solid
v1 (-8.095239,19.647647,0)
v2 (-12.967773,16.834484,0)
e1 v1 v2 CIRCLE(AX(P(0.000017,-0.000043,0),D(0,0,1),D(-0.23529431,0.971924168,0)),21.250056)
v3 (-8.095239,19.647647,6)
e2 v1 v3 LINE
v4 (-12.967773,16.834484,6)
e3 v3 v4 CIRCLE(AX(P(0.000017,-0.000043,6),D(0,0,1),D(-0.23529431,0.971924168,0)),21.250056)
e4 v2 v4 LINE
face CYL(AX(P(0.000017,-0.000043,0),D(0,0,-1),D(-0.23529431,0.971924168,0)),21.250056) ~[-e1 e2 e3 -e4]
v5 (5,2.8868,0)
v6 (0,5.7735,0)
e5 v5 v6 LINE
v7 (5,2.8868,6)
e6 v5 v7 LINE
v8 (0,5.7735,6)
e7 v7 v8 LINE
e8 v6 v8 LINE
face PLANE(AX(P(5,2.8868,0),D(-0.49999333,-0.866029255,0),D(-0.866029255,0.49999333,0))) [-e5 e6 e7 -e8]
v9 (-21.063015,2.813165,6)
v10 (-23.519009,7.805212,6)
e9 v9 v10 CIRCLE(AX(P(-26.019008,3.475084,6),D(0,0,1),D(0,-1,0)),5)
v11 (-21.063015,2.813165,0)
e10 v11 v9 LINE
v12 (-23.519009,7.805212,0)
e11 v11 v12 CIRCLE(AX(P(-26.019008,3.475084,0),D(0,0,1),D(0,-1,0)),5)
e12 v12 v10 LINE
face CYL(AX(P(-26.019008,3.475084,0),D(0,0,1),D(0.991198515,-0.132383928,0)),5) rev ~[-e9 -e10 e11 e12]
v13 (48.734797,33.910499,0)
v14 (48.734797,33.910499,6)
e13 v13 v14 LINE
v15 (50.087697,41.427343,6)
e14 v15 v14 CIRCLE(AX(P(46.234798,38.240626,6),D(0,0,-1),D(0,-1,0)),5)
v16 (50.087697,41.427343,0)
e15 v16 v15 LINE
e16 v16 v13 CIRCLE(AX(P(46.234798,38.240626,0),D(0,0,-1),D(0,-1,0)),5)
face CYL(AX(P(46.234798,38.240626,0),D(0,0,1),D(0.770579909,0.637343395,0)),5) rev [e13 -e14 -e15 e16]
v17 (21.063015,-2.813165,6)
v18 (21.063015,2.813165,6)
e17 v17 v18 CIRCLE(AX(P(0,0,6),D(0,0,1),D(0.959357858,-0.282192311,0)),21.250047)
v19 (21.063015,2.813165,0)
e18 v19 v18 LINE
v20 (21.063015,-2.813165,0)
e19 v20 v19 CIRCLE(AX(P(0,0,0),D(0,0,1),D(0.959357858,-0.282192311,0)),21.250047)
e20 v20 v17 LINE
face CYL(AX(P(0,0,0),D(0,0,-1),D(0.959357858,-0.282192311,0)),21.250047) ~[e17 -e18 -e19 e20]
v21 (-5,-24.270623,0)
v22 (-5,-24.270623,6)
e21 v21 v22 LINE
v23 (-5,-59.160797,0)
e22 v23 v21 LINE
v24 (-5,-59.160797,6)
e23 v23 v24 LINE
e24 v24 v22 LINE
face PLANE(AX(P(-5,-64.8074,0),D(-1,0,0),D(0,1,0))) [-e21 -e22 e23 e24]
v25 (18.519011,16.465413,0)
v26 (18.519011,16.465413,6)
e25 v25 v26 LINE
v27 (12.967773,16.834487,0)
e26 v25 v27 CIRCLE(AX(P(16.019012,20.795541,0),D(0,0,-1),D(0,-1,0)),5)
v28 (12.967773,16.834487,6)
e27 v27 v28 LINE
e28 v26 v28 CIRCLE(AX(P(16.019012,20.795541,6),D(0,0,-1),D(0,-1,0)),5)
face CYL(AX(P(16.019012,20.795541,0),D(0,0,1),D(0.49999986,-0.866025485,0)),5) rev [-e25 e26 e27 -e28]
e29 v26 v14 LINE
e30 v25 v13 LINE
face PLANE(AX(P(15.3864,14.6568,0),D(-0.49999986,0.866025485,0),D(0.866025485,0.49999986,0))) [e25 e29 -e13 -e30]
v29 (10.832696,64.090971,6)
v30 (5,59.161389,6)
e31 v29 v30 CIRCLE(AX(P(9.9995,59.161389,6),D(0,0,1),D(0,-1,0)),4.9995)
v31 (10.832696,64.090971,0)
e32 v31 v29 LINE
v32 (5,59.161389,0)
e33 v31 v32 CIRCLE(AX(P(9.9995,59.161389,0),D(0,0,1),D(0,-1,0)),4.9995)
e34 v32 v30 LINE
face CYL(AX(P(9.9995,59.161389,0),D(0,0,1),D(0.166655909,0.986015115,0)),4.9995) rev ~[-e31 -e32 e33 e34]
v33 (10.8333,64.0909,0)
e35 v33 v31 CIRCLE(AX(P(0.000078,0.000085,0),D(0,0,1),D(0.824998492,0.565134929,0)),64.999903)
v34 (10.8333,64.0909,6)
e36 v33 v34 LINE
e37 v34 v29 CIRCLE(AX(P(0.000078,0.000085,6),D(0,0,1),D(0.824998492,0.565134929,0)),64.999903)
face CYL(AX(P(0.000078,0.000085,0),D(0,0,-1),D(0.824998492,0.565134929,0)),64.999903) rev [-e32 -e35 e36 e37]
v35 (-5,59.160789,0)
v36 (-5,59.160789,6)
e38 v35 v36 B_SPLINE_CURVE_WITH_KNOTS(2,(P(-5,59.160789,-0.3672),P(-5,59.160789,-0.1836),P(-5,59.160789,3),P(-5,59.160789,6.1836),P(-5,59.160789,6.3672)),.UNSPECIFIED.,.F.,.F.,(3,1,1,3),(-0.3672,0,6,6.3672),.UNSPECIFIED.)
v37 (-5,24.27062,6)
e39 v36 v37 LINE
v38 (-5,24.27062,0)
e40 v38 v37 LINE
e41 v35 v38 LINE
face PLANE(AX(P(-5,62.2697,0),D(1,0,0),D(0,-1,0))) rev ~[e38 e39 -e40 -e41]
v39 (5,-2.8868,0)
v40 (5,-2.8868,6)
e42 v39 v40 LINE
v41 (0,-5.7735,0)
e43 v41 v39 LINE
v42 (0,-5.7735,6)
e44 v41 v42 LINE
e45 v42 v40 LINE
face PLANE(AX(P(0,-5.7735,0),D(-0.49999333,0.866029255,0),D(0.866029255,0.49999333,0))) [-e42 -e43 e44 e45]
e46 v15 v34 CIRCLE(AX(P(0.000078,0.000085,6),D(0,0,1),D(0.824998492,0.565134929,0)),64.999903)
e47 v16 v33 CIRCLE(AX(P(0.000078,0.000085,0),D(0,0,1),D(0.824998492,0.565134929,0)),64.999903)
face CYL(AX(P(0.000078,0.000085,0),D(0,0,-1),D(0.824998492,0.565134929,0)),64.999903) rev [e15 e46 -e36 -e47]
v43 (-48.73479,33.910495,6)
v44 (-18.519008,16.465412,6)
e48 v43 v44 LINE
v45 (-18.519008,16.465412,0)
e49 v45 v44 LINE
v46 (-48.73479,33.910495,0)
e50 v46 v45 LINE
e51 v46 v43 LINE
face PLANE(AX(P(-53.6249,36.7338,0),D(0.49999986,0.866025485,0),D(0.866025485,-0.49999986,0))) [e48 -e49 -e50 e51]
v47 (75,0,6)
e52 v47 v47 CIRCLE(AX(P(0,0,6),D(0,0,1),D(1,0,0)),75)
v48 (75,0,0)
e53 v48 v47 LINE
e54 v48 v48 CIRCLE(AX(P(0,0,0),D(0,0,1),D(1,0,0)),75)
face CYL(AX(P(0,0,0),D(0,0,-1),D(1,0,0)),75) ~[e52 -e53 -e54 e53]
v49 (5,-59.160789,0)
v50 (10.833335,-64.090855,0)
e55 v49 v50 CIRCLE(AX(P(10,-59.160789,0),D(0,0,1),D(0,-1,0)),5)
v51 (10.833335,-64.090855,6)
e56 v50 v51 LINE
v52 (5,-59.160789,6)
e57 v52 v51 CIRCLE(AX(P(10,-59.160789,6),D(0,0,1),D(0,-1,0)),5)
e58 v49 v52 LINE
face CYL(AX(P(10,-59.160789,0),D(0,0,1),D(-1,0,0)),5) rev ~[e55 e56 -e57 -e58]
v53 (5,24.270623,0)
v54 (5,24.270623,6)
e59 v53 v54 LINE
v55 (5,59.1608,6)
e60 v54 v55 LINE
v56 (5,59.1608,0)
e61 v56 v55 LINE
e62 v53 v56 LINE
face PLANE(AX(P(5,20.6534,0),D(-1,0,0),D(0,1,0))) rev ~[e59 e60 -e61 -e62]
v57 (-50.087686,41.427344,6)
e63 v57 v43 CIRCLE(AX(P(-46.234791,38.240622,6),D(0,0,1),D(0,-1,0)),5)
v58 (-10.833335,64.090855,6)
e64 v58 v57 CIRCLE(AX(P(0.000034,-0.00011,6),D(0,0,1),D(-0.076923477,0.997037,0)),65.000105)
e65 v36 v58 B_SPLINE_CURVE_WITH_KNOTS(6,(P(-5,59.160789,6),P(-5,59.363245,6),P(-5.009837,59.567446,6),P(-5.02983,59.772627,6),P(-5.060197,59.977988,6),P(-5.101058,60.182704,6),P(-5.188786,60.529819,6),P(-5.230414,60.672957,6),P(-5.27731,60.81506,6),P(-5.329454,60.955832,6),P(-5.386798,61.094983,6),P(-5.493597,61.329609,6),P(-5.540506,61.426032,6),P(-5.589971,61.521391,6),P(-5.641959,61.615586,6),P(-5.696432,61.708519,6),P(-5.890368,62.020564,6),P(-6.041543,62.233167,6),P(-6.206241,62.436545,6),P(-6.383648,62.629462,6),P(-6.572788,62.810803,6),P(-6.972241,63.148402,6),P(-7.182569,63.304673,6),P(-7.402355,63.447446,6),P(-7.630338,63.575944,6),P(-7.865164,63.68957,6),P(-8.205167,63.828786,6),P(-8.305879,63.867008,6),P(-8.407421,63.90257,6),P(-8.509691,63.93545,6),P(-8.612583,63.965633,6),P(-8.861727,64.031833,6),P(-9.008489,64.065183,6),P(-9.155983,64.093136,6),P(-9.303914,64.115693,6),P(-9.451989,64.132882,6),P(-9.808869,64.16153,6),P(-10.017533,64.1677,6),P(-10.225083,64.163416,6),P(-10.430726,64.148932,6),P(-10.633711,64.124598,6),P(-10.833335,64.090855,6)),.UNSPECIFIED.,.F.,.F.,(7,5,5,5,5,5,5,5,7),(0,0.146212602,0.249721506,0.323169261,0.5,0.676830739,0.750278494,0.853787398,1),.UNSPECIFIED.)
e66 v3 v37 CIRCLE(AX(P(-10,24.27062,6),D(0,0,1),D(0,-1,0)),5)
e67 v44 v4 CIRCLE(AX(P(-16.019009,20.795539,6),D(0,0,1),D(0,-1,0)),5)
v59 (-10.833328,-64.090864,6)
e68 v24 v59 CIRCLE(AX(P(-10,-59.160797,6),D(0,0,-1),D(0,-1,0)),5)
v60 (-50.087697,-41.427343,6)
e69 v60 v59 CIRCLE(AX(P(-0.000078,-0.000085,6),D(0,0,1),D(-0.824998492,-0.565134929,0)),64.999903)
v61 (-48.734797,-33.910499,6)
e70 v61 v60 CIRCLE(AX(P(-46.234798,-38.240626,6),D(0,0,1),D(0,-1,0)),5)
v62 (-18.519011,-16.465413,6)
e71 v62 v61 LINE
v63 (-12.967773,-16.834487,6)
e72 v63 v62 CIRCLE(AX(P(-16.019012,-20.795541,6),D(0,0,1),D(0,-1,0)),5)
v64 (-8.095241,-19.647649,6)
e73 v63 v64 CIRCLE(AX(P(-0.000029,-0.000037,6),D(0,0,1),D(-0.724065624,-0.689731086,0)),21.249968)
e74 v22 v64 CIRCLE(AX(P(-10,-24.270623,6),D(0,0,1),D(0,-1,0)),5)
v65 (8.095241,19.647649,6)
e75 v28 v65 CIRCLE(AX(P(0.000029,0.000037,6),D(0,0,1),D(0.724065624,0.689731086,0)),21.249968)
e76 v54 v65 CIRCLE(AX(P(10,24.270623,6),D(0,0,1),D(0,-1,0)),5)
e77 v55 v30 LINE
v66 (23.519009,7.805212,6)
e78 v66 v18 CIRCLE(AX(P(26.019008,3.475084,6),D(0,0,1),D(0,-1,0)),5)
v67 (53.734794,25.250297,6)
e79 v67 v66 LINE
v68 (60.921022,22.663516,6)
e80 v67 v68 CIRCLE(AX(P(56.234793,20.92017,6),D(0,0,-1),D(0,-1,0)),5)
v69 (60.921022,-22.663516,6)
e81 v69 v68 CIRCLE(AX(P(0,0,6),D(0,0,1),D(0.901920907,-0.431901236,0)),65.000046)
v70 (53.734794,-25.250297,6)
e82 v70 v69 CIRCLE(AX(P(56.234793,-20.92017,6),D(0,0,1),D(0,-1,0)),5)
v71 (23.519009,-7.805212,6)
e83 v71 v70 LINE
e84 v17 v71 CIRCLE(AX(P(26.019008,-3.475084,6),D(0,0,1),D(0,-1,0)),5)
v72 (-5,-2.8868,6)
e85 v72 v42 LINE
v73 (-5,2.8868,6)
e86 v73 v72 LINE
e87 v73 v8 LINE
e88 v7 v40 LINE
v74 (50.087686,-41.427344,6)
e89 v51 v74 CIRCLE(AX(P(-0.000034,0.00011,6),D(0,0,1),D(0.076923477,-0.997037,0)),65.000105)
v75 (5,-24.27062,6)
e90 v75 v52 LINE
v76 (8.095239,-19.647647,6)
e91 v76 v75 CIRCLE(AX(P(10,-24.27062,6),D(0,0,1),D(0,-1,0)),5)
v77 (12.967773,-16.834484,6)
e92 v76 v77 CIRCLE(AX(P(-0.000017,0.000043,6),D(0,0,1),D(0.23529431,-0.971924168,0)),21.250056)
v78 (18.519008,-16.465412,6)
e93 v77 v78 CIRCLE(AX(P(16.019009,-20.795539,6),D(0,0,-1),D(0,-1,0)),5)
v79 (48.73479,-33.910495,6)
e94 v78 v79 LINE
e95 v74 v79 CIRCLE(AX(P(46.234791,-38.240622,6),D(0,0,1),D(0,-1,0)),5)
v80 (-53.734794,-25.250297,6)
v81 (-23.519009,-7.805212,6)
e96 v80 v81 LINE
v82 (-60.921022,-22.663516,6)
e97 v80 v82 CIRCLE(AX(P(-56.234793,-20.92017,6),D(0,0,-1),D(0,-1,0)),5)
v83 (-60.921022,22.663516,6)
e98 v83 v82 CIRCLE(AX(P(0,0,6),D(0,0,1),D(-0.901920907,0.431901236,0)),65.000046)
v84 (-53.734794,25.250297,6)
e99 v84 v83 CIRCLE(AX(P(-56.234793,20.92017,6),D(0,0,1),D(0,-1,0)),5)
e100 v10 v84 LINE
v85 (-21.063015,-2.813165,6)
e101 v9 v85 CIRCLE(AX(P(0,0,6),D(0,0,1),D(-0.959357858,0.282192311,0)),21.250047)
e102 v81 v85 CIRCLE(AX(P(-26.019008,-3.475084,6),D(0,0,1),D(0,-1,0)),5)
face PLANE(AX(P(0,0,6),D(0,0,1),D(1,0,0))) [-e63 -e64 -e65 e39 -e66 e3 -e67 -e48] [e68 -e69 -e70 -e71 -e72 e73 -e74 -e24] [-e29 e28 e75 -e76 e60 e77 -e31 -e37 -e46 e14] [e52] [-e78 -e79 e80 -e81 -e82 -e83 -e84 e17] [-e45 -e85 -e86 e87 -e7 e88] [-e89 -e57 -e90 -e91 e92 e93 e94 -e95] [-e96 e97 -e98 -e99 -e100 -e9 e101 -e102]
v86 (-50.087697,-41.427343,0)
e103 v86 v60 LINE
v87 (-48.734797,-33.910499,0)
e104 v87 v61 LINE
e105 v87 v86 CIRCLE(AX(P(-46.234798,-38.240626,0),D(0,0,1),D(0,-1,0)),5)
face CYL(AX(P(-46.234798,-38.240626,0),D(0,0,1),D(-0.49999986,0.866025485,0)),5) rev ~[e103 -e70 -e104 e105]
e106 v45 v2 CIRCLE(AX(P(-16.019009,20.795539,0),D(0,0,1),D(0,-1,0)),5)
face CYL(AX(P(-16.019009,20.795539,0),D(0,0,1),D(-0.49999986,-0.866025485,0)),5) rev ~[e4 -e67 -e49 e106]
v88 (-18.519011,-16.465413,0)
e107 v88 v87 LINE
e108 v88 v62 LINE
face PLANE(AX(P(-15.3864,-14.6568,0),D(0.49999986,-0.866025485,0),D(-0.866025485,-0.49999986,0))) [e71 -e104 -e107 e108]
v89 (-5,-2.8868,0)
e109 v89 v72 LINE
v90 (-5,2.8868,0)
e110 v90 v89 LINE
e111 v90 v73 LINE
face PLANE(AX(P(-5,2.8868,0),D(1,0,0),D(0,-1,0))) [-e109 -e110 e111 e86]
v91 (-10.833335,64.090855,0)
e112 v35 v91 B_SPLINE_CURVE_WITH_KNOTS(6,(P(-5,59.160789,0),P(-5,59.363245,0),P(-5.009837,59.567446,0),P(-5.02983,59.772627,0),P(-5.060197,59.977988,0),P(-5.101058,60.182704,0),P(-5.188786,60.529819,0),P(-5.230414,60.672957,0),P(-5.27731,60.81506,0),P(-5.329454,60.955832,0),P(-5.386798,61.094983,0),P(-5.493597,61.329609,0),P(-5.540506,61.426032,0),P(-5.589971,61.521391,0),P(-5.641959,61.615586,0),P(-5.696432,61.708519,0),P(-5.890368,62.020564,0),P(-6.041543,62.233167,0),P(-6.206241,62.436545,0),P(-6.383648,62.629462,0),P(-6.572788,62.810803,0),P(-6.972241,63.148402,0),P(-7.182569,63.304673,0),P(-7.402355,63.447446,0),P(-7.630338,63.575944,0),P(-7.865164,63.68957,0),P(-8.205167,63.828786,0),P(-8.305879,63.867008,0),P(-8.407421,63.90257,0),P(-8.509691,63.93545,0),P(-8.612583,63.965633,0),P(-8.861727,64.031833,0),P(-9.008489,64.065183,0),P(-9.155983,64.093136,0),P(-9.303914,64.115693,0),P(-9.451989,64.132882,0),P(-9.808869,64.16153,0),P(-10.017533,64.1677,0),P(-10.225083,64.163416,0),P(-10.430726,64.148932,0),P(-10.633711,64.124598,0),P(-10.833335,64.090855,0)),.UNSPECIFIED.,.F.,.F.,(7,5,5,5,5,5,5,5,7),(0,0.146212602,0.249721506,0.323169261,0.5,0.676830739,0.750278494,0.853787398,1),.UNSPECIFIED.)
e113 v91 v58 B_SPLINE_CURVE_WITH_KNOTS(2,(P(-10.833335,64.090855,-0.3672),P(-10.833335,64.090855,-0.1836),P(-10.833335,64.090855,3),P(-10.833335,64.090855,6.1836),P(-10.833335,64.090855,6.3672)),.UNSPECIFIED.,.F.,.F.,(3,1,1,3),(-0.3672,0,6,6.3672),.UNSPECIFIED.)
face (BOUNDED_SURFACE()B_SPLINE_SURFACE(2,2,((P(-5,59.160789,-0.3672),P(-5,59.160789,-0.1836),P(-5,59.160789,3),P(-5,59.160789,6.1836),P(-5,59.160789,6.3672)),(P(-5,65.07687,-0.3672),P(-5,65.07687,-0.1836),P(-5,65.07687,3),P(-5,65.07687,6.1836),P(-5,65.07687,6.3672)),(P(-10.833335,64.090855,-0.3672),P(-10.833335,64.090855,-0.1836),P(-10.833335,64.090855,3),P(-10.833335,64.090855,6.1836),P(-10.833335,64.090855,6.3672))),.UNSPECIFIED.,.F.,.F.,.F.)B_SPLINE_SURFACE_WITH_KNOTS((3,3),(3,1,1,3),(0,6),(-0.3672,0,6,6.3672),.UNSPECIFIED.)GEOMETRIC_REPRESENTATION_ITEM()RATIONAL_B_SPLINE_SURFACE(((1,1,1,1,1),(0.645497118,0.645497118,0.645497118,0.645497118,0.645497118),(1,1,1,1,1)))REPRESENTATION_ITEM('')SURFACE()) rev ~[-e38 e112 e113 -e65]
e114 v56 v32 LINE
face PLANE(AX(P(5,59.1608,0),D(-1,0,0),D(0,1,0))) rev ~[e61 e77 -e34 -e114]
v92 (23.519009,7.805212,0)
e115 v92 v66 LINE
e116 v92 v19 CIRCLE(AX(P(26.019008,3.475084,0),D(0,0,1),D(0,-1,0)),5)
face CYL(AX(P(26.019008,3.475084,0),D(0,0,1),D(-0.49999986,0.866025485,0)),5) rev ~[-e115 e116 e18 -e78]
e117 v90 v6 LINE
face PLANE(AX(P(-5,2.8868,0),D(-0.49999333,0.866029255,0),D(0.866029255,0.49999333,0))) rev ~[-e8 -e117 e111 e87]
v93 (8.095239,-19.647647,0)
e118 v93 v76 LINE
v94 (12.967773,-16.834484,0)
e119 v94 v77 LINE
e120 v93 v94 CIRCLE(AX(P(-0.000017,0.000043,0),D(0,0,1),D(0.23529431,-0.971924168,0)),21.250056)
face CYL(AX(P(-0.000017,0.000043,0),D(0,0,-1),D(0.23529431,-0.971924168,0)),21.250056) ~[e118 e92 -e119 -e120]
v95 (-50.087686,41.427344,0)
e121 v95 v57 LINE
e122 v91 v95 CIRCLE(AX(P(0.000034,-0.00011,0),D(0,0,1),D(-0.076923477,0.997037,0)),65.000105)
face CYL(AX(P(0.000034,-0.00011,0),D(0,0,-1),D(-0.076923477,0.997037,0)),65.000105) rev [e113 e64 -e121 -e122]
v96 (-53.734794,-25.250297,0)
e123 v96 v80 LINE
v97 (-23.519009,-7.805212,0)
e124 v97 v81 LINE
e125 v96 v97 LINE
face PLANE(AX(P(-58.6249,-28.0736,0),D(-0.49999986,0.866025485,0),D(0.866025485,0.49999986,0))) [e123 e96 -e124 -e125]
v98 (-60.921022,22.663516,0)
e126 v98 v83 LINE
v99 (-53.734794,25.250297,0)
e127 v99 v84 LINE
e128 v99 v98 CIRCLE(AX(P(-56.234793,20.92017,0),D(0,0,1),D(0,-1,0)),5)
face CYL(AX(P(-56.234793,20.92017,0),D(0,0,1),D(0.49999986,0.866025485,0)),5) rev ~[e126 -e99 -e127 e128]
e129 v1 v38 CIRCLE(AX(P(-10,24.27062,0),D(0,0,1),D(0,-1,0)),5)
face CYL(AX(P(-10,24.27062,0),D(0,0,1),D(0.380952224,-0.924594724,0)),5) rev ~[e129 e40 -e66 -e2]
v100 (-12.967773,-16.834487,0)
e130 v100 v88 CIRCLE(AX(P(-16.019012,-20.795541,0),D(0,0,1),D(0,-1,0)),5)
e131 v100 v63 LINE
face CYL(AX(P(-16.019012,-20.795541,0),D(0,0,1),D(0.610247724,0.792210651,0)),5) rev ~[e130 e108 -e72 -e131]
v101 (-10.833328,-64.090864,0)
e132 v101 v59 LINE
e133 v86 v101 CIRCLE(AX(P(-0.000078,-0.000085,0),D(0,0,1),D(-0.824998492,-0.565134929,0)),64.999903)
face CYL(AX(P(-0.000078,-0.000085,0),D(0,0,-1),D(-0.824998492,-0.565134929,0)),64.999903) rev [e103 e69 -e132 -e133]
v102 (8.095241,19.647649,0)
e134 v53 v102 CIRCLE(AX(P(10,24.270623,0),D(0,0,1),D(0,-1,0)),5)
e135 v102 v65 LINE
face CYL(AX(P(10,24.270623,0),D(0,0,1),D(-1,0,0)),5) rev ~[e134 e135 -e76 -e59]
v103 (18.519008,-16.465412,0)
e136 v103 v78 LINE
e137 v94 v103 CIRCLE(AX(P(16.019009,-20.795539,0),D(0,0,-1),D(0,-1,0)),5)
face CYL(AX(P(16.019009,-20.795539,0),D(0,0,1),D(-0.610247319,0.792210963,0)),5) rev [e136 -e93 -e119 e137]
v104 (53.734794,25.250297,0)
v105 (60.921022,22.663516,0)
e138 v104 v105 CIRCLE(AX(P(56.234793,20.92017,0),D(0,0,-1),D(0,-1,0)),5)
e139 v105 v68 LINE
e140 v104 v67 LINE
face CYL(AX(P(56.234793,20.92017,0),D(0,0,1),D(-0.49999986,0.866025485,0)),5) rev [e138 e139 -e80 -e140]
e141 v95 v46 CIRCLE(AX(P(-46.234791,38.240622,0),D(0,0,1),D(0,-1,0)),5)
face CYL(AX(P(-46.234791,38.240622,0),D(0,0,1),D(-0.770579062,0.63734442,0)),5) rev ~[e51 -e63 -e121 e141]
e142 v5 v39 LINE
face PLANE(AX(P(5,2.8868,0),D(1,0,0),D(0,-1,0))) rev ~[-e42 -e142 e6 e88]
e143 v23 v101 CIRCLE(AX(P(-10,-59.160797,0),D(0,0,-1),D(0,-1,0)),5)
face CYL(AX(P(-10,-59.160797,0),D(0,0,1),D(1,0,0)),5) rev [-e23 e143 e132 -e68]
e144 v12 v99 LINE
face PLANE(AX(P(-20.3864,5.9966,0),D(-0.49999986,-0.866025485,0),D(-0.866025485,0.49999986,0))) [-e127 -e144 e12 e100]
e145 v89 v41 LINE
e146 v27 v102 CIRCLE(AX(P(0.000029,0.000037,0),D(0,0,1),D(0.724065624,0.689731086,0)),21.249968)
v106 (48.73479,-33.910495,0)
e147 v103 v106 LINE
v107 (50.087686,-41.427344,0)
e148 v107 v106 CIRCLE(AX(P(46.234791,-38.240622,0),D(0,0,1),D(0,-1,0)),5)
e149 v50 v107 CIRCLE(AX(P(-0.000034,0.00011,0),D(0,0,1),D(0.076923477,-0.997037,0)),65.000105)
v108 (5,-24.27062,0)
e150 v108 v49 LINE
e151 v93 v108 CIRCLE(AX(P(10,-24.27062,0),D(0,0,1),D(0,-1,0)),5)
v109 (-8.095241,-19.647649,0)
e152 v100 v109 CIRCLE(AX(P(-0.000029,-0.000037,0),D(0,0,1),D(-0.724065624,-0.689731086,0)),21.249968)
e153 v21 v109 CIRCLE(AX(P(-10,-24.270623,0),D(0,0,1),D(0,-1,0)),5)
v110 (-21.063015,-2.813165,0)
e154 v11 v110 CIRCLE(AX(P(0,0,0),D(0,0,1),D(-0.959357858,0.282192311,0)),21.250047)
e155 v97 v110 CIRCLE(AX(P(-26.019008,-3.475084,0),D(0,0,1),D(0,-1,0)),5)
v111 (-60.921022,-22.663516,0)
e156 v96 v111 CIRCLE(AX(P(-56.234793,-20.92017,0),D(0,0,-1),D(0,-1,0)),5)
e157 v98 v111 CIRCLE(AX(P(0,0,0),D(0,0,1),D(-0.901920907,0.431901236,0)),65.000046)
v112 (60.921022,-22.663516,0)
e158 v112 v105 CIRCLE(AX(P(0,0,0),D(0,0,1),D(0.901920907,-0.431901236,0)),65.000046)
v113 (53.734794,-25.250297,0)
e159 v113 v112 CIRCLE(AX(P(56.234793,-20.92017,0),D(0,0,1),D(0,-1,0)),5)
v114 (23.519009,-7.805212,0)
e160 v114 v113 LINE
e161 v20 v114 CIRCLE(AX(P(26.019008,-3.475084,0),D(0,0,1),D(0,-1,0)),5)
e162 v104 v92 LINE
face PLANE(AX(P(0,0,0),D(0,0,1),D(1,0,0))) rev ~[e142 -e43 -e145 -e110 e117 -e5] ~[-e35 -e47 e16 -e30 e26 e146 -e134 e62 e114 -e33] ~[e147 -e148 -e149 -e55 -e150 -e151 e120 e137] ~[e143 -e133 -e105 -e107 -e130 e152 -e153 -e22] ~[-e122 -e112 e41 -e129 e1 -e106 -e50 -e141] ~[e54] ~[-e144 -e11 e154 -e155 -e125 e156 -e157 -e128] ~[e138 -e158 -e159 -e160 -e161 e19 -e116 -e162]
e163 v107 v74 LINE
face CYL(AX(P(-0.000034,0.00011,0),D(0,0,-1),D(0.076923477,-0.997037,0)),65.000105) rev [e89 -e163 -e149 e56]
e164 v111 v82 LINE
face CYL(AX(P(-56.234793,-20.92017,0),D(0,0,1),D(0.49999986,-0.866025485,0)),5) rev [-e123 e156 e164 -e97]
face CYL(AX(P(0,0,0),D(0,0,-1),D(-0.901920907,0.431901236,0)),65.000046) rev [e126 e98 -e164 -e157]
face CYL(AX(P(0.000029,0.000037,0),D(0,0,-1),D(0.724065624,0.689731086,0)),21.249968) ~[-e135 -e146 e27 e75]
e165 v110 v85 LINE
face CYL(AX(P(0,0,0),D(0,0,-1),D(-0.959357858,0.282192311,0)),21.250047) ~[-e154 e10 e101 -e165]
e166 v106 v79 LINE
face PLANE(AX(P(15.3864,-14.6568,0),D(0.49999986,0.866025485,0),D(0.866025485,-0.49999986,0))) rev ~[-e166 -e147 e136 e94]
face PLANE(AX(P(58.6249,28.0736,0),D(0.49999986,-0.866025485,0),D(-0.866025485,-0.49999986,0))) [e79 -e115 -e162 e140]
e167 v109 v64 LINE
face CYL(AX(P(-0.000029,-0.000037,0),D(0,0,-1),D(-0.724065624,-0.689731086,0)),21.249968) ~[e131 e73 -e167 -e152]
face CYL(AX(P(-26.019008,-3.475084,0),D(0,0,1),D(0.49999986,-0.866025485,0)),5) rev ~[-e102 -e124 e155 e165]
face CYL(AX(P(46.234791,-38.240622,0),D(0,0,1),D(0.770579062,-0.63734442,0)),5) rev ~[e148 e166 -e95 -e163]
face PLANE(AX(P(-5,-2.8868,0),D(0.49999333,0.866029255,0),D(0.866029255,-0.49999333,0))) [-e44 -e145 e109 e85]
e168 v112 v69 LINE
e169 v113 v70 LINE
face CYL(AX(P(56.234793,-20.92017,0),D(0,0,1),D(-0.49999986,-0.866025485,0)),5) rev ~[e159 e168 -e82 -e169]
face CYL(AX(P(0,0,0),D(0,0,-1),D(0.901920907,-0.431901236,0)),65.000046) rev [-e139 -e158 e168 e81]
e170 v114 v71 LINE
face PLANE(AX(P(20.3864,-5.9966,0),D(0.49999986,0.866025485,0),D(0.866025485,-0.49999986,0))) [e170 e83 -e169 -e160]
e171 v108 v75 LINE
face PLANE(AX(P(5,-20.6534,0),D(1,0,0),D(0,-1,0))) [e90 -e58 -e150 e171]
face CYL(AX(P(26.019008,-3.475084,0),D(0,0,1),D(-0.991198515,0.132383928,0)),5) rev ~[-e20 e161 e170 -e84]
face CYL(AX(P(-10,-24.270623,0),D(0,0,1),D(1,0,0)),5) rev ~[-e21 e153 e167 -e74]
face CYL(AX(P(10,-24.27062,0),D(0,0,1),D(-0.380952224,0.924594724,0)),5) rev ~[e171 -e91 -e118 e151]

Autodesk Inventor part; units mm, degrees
ref_plane "YZ Plane" through (0, 0, 0) normal (1, 0, 0) x (0, 1, 0)
ref_plane "XZ Plane" through (0, 0, 0) normal (0, 1, 0) x (-1, 0, 0)
ref_plane "XY Plane" through (0, 0, 0) normal (0, 0, 1) x (1, 0, 0)
sketch "Sketch1" plane through (0, 0, 0) normal (0, 0, 1) x (1, 0, 0)
  circle A0 centre (0, 0) radius 75
  line L0 (-90.1494, 78.9771) -> (78.0254, 78.9771) construction
  line L1 (78.0254, 78.9771) -> (78.0254, -87.6961) construction
  line L2 (78.0254, -87.6961) -> (-90.1494, -87.6961) construction
  line L3 (-90.1494, -87.6961) -> (-90.1494, 78.9771) construction
  line L4 (-5, 62.2697) -> (-5, 20.6534)
  line L5 (5, 20.6534) -> (5, 59.1608)
  line L6 (15.3864, 14.6568) -> (53.6249, 36.7338)
  line L7 (58.6249, 28.0736) -> (20.3864, 5.9966)
  line L8 (20.3864, -5.9966) -> (58.6249, -28.0736)
  line L9 (15.3864, -14.6568) -> (53.6249, -36.7338)
  line L10 (5, -20.6534) -> (5, -64.8074)
  line L11 (-5, -64.8074) -> (-5, -20.6534)
  line L12 (-15.3864, -14.6568) -> (-53.6249, -36.7338)
  line L13 (-58.6249, -28.0736) -> (-20.3864, -5.9966)
  line L14 (-20.3864, 5.9966) -> (-58.6249, 28.0736)
  line L15 (-53.6249, 36.7338) -> (-15.3864, 14.6568)
  line L16 (5, 59.1608) -> (5, 64.8074)
  line L17 (-5, 62.2697) -> (-5, 64.8074)
  arc A1 (10.8333, 64.0909) -> (5, 59.1608) centre (10, 59.1608) ccw
  arc A2 (-5, 64.8074) -> (-53.6249, 36.7338) centre (0, 0) ccw
  arc A3 (-5, 20.6534) -> (-15.3864, 14.6568) centre (0, 0) ccw
  arc A4 (15.3864, 14.6568) -> (5, 20.6534) centre (0, 0) ccw
  arc A5 (53.6249, 36.7338) -> (5, 64.8074) centre (0, 0) ccw
  arc A6 (58.6249, -28.0736) -> (58.6249, 28.0736) centre (0, 0) ccw
  arc A7 (20.3864, -5.9966) -> (20.3864, 5.9966) centre (0, 0) ccw
  arc A8 (5, -20.6534) -> (15.3864, -14.6568) centre (0, 0) ccw
  arc A9 (5, -64.8074) -> (53.6249, -36.7338) centre (0, 0) ccw
  arc A10 (-20.3864, 5.9966) -> (-20.3864, -5.9966) centre (0, 0) ccw
  arc A11 (-15.3864, -14.6568) -> (-5, -20.6534) centre (0, 0) ccw
  arc A12 (-58.6249, 28.0736) -> (-58.6249, -28.0736) centre (0, 0) ccw
  arc A13 (-53.6249, -36.7338) -> (-5, -64.8074) centre (0, 0) ccw
  line L18 (5, 2.8868) -> (5, -2.8868)
  line L19 (-5, 2.8868) -> (0, 5.7735)
  line L20 (5, 2.8868) -> (0, 5.7735)
  line L21 (-5, 2.8868) -> (-5, -2.8868)
  line L22 (0, -5.7735) -> (5, -2.8868)
  line L23 (-5, -2.8868) -> (0, -5.7735)
  line L24 (0, 0) -> (0, 5.7735)
  dimension "d5" = 150
  dimension "d41" = 10
  dimension "d54" = 5
  dimension "d74" = 120
  dimension "d76" = 120
  dimension "d77" = 120
  dimension "d78" = 120
  dimension "d79" = 120
  dimension "d80" = 120
  dimension "d81" = 10
extrude "Extrusion1" add sketch "Sketch1" along normal blind 6
fillet "Fillet1" radius 5 1 edges at (5, 64.8074, 3)
fillet "Fillet2" radius 5 23 edges at (-53.6249, 36.7338, 3) (5, 20.6534, 3) (-53.6249, -36.7338, 3) (-58.6249, -28.0736, 3) (5, -64.8074, 3) (20.3864, -5.9966, 3) (15.3864, 14.6568, 3) (20.3864, 5.9966, 3) (15.3864, -14.6568, 3) (5, -20.6534, 3) (-20.3864, 5.9966, 3) (-15.3864, -14.6568, 3) (-5, -20.6534, 3) (53.6249, -36.7338, 3) (58.6249, 28.0736, 3) (-5, 64.8074, 3) (-5, 20.6534, 3) (-15.3864, 14.6568, 3) (58.6249, -28.0736, 3) (53.6249, 36.7338, 3) (-5, -64.8074, 3) (-20.3864, -5.9966, 3) (-58.6249, 28.0736, 3)
equation "\"BendRadius\" = Thickness"
equation "\"BendReliefWidth\" = Thickness"
equation "\"BendReliefDepth\" = 0.5 * Thickness"
equation "\"CornerReliefSize\" = 4 * Thickness"
equation "\"MinimumRemnant\" = 2 * Thickness"
equation "\"TransitionRadius\" = BendRadius"
equation "\"JacobiRadiusSize\" = BendRadius"
equation "\"GapSize\" = Thickness"
equation "\"Thickness\" = 0.5"
properties part number "wheel" material "Hardboard"
